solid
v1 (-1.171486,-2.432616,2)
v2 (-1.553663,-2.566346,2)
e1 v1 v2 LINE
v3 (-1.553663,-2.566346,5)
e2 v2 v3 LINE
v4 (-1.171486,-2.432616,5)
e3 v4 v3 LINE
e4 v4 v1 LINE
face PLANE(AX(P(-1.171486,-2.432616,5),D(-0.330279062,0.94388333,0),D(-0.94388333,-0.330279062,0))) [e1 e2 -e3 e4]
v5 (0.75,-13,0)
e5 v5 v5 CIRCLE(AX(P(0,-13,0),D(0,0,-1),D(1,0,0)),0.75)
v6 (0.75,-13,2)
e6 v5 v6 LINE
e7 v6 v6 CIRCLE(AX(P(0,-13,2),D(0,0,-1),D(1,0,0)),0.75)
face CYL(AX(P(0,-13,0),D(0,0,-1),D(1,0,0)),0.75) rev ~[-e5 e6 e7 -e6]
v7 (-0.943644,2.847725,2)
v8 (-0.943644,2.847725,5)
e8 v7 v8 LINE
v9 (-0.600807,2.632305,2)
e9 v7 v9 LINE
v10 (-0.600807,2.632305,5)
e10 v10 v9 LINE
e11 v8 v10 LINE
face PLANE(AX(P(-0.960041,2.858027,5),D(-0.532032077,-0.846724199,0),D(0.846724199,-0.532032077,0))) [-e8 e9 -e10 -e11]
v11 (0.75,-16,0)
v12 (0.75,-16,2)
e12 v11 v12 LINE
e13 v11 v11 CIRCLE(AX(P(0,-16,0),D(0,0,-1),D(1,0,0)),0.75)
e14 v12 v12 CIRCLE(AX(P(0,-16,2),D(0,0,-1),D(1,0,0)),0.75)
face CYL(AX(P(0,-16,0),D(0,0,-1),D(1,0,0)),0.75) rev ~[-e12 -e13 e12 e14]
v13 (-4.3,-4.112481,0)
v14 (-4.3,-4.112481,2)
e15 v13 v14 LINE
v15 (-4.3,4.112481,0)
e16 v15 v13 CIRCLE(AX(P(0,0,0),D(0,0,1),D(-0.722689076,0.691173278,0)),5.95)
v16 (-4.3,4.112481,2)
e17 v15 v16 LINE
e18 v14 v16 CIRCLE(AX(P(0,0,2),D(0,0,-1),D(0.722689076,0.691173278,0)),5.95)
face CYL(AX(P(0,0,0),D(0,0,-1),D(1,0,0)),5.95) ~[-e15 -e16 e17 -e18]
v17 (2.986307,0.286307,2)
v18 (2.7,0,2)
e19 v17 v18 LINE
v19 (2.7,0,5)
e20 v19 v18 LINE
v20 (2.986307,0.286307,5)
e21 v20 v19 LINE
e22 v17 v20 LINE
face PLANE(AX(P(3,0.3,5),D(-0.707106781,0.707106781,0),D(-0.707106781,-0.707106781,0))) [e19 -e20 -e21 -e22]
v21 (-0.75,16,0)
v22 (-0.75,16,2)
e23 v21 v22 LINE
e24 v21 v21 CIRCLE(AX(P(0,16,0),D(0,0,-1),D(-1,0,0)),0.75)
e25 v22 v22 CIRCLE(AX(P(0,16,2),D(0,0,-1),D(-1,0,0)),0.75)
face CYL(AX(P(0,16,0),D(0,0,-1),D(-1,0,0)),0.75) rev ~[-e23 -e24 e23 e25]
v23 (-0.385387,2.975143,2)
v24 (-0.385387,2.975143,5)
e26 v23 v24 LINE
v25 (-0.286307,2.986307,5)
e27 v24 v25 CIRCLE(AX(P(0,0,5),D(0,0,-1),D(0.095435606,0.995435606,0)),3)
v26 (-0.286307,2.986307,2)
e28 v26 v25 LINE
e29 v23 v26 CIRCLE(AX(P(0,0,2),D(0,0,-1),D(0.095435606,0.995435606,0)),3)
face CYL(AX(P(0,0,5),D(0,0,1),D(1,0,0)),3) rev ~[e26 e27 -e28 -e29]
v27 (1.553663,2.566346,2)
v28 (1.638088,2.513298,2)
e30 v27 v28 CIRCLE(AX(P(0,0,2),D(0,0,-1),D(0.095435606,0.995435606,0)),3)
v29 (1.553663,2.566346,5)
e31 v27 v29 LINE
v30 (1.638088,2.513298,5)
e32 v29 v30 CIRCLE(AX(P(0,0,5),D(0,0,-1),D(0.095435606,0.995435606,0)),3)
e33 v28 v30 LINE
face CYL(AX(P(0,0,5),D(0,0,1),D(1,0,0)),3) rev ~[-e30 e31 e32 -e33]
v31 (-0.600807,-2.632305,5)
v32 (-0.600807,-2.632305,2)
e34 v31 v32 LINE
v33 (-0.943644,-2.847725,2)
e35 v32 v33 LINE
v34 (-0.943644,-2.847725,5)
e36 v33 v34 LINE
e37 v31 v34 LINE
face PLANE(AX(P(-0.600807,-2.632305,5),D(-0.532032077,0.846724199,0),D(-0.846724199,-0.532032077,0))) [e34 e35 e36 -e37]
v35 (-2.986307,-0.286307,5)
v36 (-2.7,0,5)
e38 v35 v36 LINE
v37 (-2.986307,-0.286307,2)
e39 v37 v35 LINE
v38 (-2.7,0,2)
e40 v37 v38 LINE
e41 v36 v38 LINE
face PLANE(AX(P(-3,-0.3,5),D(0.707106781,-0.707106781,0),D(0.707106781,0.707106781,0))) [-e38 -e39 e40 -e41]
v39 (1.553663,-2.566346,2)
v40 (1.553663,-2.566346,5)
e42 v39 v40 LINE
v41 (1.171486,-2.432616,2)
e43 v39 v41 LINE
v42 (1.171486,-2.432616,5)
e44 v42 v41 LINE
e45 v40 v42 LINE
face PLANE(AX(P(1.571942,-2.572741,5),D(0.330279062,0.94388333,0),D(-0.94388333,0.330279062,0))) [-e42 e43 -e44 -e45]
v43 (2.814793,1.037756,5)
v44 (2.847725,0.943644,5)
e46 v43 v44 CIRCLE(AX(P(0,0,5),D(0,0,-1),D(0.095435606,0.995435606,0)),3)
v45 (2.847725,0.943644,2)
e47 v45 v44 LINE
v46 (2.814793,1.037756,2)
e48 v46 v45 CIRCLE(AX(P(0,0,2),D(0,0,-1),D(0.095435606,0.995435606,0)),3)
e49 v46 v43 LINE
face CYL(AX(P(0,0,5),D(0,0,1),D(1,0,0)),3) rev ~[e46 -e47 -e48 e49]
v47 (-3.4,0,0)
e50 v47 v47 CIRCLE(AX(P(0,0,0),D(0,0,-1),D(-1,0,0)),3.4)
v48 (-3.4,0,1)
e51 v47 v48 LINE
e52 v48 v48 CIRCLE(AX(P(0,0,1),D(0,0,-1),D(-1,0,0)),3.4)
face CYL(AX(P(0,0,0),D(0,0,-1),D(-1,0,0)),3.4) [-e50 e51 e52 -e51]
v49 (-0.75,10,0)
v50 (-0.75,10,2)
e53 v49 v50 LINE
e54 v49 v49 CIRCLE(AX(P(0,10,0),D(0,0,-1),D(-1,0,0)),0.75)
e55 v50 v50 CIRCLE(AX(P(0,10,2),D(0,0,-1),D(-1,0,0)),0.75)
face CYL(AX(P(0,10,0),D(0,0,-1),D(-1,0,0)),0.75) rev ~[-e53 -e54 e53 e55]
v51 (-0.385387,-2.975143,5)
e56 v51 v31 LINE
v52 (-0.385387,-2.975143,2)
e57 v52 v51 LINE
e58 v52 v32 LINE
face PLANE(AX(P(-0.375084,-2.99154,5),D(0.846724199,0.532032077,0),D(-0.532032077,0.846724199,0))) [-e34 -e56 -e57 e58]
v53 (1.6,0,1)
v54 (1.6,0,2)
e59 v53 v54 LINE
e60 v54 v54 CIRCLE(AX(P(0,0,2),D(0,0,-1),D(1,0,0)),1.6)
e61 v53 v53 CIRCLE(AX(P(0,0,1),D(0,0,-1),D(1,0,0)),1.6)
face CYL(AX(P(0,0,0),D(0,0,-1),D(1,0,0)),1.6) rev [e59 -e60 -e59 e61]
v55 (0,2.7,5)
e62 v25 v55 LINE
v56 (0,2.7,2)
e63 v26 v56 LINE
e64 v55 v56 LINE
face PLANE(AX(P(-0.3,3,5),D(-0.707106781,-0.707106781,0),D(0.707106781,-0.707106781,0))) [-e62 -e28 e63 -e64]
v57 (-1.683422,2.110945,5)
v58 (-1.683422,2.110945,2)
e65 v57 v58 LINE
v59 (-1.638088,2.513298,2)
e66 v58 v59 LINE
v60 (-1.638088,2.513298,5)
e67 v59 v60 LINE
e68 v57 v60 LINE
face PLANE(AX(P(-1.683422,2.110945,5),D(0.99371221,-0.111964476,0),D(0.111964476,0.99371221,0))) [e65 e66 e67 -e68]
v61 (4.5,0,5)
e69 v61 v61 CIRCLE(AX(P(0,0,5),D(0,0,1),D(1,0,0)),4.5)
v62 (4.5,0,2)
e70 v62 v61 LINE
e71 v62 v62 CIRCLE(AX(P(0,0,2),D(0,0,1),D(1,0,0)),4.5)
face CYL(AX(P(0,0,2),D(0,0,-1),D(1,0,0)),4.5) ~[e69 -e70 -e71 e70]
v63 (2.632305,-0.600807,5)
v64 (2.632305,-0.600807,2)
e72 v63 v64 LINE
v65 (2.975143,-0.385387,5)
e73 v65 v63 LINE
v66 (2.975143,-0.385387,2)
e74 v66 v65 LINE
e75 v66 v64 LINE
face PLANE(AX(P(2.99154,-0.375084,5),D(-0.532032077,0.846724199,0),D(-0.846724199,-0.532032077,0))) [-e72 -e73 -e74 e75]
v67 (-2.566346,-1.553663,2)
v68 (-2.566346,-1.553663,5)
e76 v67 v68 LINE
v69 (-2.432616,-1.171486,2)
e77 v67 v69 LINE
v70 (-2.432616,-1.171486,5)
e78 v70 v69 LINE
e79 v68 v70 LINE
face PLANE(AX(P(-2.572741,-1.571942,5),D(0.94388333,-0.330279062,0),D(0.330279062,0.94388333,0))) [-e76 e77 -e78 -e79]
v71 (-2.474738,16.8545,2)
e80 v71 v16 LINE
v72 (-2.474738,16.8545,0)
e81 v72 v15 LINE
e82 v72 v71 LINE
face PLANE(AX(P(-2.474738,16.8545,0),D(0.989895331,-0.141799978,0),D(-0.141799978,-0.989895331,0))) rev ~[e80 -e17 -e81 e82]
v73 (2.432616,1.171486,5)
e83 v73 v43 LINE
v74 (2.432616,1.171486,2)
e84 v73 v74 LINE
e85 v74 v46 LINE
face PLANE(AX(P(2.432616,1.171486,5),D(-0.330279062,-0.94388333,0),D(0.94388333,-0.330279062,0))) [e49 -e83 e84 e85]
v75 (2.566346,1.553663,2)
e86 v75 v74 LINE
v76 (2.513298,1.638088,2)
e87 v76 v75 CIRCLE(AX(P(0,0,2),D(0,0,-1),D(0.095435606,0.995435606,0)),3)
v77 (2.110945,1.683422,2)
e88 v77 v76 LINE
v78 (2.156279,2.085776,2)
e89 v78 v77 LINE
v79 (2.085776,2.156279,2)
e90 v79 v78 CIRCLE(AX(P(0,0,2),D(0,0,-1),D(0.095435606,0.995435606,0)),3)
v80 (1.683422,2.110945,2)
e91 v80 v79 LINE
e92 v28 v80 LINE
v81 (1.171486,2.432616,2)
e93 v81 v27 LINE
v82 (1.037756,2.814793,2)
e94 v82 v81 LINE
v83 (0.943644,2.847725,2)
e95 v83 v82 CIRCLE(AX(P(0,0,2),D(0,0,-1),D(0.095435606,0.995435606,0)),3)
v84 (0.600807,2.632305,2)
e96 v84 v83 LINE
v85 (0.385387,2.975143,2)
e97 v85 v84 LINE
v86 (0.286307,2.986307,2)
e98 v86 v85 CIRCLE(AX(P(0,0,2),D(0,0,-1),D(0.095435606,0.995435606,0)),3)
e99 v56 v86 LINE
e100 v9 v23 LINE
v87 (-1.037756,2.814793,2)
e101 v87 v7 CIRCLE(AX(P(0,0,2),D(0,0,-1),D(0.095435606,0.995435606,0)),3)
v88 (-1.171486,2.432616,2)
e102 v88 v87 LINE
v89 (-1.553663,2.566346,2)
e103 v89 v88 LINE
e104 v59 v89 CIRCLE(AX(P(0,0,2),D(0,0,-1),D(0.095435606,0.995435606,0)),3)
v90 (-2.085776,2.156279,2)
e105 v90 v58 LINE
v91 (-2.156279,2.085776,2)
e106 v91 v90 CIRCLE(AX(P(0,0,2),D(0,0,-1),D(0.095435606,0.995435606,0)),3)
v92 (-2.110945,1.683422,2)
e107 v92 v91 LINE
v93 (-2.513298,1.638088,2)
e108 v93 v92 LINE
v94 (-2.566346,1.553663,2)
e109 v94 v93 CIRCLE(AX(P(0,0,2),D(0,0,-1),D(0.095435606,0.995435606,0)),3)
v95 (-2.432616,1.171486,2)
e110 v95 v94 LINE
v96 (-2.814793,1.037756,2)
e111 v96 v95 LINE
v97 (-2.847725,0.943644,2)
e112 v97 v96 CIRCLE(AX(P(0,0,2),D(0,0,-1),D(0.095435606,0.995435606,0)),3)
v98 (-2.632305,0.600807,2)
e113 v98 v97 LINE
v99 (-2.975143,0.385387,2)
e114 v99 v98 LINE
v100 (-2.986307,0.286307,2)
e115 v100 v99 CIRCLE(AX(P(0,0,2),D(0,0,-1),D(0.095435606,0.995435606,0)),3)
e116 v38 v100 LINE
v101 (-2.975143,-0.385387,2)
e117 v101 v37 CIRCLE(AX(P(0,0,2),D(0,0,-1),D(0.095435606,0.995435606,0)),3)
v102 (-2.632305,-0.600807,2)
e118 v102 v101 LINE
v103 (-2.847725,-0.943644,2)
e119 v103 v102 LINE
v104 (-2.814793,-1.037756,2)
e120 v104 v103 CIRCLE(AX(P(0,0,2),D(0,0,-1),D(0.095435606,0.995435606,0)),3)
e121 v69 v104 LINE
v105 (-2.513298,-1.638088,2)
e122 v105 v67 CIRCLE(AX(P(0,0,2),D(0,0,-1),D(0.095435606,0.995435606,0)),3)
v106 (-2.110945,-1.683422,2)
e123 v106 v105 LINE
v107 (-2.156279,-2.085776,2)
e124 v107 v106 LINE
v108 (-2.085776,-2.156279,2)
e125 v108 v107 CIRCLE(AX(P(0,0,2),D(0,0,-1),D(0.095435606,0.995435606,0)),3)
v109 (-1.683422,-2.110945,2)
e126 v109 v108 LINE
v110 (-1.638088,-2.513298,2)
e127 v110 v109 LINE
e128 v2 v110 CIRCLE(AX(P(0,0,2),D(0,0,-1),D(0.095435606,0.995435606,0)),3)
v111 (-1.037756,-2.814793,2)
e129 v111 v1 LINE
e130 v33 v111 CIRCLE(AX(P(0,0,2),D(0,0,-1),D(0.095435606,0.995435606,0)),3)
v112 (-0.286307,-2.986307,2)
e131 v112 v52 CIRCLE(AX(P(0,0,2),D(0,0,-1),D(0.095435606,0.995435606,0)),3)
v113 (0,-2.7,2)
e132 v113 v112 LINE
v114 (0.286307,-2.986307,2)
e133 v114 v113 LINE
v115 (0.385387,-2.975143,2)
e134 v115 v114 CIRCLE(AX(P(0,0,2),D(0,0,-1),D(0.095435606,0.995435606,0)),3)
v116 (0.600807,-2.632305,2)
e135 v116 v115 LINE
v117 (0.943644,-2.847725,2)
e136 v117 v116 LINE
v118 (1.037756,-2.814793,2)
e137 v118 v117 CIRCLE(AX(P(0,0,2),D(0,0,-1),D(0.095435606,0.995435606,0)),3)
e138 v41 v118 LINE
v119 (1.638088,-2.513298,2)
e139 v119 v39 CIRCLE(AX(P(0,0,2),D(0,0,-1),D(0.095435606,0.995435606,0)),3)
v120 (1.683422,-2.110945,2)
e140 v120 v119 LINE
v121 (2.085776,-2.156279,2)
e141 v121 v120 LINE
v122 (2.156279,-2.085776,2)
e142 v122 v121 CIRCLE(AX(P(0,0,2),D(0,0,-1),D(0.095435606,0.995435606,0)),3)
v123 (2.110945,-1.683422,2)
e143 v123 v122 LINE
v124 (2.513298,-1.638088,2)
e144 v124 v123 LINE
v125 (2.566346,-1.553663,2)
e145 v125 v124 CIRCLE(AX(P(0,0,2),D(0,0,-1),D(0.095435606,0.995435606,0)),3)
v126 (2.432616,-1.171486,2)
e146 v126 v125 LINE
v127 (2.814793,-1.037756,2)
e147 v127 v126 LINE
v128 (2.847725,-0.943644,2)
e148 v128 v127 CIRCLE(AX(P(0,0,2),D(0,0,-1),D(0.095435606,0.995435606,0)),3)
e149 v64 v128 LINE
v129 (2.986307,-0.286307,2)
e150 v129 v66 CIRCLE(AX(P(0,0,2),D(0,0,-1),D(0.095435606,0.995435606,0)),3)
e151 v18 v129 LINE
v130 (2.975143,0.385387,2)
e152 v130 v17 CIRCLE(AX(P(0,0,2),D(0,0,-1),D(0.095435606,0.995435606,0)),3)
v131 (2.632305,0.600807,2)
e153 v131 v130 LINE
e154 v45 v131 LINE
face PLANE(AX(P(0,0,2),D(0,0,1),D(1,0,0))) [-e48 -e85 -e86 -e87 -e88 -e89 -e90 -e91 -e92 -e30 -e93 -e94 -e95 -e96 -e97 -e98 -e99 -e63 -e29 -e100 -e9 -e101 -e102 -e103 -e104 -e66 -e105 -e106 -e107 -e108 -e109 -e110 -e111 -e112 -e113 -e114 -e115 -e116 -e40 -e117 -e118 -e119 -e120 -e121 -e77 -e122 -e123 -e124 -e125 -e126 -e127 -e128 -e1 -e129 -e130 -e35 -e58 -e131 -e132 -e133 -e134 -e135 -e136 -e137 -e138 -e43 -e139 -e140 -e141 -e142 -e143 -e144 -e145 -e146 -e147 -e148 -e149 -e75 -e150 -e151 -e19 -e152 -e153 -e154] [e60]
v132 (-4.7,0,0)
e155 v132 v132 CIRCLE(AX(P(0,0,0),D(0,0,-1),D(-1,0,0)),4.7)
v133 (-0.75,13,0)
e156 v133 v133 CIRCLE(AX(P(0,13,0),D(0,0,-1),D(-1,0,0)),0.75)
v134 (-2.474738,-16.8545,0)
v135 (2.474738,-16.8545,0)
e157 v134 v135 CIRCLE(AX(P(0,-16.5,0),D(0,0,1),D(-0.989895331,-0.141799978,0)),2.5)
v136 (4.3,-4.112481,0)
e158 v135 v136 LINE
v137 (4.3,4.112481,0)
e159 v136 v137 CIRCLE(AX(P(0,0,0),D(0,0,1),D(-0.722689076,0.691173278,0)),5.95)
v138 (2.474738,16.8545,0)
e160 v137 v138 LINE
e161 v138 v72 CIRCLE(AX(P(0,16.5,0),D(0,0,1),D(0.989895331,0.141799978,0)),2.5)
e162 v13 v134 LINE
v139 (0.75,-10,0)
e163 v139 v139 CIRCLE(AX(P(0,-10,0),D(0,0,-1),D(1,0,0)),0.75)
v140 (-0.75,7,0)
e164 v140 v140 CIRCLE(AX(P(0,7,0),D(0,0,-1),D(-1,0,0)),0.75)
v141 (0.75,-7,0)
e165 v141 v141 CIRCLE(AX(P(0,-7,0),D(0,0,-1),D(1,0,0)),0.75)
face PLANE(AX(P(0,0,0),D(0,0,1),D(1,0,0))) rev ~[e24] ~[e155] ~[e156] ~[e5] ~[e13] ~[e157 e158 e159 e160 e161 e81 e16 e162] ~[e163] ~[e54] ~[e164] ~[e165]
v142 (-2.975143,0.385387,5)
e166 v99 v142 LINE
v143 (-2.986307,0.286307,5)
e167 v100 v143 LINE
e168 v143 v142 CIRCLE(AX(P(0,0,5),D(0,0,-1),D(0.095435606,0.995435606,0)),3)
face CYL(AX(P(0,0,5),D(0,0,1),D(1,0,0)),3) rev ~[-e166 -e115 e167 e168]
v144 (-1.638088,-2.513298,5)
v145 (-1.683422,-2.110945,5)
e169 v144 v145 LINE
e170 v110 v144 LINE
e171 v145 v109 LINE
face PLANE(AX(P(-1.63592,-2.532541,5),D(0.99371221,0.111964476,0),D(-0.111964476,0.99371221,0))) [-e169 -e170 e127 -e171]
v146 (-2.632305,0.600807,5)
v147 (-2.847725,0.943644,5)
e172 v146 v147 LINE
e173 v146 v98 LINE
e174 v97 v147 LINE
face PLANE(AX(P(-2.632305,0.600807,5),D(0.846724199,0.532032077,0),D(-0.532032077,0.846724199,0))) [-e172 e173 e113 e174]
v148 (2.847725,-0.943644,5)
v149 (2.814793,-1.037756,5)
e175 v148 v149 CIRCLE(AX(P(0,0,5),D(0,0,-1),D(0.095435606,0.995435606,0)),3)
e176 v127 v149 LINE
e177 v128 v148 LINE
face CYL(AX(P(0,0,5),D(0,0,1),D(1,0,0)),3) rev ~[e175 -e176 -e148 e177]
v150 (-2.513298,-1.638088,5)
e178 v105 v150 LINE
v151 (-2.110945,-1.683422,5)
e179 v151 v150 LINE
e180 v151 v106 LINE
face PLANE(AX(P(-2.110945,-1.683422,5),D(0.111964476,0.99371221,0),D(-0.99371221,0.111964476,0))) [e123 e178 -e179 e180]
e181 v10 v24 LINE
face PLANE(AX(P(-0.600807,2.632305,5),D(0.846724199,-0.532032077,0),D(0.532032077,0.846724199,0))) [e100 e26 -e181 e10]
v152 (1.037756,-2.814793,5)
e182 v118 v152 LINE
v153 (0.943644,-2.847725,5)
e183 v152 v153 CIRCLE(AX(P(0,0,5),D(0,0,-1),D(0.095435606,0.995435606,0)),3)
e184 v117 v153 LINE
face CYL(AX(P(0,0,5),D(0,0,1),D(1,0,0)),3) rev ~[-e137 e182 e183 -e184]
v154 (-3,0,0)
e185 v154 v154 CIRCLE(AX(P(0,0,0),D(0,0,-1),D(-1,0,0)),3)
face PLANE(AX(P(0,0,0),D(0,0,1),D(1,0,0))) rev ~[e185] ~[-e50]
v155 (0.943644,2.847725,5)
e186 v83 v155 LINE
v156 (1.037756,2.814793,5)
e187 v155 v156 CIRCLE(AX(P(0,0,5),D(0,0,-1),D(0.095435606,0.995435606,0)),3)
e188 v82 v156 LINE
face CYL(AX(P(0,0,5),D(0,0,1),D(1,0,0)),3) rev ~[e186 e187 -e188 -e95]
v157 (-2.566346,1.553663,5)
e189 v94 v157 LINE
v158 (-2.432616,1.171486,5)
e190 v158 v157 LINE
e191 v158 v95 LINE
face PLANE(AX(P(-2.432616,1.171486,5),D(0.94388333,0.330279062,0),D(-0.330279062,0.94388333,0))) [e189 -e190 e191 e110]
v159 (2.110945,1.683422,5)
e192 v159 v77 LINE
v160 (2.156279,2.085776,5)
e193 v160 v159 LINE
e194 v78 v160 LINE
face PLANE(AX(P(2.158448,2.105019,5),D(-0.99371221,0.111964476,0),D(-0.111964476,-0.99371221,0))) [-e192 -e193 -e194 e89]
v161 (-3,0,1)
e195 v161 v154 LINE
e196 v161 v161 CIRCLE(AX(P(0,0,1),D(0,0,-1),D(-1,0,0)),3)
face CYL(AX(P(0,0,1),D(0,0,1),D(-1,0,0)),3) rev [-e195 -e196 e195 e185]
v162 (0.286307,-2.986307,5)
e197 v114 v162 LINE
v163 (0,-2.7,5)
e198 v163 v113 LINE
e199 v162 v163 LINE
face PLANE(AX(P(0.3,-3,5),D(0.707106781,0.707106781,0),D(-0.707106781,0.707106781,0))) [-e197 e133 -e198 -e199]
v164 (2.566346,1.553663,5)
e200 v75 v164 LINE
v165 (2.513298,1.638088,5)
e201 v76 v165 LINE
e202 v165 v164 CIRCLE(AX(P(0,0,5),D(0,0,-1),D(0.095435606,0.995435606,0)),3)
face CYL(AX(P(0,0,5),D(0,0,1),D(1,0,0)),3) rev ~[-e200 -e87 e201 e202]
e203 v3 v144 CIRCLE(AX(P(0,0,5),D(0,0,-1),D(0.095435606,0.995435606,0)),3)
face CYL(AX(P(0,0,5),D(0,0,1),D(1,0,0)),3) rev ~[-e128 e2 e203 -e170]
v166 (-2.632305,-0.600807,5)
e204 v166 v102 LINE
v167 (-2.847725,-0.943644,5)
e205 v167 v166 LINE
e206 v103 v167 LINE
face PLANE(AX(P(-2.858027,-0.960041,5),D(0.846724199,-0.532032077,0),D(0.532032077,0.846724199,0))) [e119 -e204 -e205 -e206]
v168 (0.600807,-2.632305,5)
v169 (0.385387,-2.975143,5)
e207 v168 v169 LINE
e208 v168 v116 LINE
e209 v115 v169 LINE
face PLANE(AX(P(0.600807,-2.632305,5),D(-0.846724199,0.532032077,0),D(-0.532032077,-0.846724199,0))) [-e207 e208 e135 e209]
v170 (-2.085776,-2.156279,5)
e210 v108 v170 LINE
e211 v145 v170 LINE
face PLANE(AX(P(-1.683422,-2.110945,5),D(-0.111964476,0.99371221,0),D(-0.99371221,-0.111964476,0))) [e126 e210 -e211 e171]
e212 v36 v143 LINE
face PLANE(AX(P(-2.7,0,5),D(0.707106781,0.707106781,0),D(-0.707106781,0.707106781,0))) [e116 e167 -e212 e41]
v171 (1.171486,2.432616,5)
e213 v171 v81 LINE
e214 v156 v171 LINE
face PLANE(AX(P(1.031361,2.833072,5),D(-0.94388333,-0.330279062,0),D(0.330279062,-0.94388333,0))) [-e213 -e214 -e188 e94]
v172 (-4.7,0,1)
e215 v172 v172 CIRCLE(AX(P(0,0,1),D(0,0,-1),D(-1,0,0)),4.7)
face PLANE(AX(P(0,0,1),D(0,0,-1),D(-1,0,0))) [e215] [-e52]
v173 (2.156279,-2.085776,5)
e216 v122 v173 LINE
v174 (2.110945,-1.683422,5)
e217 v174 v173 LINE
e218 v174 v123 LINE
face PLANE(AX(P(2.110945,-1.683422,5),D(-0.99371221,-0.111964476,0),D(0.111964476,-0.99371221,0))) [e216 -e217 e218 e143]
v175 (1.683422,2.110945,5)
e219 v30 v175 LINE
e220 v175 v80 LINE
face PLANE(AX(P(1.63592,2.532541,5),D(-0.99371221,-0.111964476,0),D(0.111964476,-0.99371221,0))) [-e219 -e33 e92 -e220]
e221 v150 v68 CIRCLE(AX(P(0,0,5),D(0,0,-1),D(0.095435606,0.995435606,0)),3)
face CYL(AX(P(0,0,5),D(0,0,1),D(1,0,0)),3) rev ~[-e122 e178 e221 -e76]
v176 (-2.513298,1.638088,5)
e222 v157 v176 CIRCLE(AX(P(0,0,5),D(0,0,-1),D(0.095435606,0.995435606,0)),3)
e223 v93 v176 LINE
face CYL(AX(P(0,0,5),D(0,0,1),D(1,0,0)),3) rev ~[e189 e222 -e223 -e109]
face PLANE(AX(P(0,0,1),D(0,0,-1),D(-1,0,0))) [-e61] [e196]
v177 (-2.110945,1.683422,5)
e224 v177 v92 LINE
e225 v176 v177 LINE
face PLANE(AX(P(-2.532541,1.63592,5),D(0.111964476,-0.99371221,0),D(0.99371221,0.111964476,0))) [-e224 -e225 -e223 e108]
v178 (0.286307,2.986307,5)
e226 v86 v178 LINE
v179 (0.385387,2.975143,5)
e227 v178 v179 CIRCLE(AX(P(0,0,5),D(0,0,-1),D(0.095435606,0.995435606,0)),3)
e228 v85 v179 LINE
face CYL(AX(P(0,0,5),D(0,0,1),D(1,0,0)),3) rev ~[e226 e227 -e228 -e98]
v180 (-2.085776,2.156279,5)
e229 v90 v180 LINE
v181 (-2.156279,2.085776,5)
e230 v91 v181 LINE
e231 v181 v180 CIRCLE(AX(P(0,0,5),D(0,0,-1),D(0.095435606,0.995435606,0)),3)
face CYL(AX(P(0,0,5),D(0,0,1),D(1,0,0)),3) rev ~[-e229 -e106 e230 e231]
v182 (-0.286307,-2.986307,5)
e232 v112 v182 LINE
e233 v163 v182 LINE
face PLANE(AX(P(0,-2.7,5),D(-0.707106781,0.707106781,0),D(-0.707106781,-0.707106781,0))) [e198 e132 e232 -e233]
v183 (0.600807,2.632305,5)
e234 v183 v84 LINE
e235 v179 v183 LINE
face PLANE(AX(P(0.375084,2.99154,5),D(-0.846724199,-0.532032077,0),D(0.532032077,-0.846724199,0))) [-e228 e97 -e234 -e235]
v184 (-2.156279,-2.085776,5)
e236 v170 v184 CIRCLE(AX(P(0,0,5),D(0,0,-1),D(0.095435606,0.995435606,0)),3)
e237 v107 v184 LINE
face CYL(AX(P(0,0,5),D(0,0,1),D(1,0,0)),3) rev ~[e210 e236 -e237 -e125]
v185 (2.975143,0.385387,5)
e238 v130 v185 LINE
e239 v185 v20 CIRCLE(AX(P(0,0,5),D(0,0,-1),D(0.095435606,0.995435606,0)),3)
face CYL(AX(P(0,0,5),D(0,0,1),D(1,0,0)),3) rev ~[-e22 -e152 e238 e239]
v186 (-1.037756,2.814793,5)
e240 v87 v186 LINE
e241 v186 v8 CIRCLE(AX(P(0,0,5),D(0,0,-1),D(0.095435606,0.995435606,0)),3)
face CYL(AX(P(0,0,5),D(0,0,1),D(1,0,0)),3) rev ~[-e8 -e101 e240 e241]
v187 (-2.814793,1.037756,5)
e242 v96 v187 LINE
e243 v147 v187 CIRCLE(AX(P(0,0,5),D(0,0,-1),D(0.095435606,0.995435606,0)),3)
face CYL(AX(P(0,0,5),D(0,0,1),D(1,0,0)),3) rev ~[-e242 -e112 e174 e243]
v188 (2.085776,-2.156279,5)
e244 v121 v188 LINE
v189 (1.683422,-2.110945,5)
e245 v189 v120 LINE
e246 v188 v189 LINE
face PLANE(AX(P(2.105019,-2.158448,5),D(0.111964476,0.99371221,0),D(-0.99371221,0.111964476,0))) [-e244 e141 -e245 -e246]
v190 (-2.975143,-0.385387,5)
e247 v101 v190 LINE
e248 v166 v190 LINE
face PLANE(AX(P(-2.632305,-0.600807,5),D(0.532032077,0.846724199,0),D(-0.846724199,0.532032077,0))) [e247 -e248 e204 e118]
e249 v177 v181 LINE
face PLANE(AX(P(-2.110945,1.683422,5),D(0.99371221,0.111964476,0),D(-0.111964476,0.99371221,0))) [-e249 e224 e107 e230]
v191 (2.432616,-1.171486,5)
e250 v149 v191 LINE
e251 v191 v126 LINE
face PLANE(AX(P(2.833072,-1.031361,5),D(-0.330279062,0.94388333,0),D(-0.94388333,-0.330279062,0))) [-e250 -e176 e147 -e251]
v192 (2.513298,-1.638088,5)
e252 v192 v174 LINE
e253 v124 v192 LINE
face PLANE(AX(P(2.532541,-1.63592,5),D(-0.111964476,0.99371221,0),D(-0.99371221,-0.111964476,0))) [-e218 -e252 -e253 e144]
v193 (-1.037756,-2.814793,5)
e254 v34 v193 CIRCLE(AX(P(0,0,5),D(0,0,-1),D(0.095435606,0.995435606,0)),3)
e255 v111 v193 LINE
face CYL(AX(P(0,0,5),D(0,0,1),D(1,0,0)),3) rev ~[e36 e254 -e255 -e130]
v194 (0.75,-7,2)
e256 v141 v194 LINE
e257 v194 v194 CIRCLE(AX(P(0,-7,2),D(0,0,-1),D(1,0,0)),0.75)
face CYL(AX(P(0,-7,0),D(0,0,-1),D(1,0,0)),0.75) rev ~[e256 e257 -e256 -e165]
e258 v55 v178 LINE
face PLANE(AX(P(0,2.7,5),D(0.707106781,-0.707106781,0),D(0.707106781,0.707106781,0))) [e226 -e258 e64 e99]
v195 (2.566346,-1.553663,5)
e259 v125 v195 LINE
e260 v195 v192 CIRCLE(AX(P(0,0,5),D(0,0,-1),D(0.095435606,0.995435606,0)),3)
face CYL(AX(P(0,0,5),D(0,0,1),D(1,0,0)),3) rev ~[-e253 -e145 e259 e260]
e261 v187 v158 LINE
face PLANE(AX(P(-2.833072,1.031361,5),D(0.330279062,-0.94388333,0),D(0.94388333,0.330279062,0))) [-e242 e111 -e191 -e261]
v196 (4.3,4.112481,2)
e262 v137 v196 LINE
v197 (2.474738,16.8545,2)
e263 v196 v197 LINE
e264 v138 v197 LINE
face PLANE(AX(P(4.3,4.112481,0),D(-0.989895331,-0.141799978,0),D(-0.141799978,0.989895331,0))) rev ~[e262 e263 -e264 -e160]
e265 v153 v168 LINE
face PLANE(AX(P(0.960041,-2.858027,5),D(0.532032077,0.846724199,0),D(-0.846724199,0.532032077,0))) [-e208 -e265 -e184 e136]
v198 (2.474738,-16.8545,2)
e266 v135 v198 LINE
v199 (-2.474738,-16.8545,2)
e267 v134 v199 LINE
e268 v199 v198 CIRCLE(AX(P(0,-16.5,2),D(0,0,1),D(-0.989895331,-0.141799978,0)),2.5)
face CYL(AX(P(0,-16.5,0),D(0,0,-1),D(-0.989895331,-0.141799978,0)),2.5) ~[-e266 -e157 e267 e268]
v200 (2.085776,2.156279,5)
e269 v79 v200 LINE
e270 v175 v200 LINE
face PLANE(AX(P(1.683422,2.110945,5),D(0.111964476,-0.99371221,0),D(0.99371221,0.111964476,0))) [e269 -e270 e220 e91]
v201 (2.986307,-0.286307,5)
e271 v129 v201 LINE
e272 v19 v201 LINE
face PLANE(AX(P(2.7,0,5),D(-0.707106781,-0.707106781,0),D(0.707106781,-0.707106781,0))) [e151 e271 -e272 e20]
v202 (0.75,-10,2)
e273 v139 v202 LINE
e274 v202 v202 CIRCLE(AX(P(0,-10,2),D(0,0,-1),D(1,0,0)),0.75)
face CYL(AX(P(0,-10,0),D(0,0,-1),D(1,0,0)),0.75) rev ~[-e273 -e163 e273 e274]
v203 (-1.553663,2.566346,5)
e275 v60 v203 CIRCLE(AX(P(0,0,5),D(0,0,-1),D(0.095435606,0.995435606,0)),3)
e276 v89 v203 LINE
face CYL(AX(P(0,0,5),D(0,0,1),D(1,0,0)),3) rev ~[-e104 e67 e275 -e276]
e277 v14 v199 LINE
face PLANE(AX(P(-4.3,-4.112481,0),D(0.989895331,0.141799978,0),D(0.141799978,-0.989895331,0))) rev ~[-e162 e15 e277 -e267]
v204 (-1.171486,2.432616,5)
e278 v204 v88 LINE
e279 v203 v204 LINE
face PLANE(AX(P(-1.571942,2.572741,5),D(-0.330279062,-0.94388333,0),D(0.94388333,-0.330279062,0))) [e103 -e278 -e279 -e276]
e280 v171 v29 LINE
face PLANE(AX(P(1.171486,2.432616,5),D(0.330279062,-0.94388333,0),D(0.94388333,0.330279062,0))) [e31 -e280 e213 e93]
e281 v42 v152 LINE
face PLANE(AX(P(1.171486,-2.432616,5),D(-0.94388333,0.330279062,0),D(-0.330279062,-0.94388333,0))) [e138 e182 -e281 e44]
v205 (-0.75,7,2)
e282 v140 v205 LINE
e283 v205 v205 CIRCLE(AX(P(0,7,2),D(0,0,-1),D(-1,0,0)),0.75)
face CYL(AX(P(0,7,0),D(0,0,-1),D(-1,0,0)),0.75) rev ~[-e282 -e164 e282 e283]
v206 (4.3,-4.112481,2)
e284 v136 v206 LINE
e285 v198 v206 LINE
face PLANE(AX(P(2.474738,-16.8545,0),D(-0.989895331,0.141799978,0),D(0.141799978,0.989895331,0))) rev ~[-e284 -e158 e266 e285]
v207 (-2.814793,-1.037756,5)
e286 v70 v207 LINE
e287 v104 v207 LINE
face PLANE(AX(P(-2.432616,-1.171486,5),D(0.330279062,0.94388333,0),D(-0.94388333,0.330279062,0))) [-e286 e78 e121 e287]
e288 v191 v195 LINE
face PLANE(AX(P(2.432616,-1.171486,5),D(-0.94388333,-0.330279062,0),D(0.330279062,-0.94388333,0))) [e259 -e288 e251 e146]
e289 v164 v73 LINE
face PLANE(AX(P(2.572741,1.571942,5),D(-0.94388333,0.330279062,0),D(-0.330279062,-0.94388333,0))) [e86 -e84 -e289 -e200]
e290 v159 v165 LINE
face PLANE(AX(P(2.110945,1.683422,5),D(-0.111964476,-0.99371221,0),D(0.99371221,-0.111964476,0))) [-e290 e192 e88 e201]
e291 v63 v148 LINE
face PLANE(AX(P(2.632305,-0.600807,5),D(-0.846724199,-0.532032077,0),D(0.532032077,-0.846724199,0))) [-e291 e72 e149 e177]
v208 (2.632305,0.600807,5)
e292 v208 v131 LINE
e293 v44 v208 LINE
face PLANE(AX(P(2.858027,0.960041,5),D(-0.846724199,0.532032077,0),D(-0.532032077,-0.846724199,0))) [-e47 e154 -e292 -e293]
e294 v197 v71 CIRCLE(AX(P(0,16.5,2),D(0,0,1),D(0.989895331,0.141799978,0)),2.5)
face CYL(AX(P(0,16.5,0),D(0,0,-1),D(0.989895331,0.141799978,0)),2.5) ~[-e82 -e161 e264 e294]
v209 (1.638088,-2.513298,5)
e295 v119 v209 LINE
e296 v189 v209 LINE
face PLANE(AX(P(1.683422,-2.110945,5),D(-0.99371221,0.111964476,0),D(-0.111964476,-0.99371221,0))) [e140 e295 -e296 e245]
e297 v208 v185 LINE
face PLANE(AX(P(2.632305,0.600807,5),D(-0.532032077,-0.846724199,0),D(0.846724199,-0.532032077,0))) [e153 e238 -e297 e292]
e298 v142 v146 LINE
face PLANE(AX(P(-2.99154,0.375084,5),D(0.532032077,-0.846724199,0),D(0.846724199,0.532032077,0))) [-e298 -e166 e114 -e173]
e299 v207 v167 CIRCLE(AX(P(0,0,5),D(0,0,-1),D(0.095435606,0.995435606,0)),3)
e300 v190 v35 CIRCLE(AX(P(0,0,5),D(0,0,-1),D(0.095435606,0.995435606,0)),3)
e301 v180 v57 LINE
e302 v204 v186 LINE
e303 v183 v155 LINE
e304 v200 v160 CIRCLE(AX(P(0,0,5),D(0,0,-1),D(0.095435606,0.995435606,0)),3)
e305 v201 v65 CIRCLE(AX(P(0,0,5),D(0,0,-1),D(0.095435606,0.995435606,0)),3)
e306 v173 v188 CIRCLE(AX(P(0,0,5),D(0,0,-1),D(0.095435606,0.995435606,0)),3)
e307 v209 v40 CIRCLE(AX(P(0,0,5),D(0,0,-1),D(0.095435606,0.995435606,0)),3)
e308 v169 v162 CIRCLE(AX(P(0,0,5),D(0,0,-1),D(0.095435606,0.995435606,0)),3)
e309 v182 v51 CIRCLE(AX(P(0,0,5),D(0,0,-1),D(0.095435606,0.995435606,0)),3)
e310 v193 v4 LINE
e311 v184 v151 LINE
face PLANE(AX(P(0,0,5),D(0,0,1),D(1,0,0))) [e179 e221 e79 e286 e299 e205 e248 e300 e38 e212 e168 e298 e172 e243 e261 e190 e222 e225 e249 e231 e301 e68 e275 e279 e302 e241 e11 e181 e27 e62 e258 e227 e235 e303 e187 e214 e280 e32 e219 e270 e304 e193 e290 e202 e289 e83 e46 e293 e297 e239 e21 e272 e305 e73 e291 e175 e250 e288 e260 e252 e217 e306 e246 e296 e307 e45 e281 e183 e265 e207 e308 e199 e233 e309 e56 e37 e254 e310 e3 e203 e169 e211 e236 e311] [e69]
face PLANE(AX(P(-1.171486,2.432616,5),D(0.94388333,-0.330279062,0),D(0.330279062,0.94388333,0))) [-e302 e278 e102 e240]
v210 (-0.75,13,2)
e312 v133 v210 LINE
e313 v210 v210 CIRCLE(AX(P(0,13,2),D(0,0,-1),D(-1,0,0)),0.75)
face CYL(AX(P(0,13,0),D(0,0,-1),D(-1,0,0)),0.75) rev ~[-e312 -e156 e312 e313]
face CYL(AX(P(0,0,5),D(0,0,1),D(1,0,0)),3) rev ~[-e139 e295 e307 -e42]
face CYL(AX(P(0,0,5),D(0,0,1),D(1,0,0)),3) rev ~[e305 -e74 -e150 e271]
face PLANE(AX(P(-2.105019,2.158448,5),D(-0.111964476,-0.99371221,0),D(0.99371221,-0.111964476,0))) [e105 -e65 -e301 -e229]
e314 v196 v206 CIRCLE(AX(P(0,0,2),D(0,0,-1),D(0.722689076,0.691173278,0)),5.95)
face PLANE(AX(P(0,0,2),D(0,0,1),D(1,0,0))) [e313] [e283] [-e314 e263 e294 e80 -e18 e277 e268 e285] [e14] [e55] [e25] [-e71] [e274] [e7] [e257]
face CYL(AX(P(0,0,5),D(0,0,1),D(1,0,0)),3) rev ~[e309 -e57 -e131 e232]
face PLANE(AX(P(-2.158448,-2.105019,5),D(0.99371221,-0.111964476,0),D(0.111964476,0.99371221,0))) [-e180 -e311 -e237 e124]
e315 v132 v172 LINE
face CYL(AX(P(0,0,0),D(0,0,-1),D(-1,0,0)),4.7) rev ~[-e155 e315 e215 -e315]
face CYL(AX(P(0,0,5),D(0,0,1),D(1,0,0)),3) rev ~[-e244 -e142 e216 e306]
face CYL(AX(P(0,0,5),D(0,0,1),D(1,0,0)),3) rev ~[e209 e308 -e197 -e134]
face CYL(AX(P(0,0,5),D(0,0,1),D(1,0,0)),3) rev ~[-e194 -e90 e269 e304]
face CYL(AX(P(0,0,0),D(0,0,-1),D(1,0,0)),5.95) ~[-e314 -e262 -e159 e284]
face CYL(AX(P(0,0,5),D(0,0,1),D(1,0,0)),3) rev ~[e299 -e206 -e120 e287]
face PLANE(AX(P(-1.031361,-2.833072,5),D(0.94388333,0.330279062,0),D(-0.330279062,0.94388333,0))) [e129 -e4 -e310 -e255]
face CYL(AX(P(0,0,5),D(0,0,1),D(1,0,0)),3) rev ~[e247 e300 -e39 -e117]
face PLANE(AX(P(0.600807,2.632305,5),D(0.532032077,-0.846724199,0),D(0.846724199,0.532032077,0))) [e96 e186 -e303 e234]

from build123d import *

# Parameters (mm, degrees)
ESQUISSE1_R                  = 5.95
ESQUISSE1_R_2                = 1.6
BOSS_EXTRU_1_DEPTH           = 5
ESQUISSE2_R                  = 3
ENL_V_MAT_EXTRU_1_DEPTH      = 3
ENL_V_START                  = -3
ESQUISSE3_R                  = 5.95
ESQUISSE3_R_2                = 4.5
ENL_V_MAT_EXTRU_2_DEPTH      = 3
BOSS_EXTRU_2_DEPTH           = 2
R_P_TITION_CIRCULAIRE1_COUNT = 2
ESQUISSE5_R                  = 0.75
ENL_V_MAT_EXTRU_3_DEPTH      = 3
R_P_TITION_CIRCULAIRE2_COUNT = 2
BOSS_EXTRU_3_DEPTH           = 3
R_P_TITION_CIRCULAIRE3_COUNT = 28
ENL_V_START_2                = -1
ESQUISSE7_R                  = 3
ESQUISSE7_R_2                = 1.6
ENL_V_MAT_EXTRU_4_DEPTH      = 1
ESQUISSE8_R                  = 4.7
ESQUISSE8_R_2                = 3.4
ENL_V_MAT_EXTRU_5_DEPTH      = 1


with BuildPart() as part:
    # Esquisse1 → Boss.-Extru.1 (new body)
    with BuildSketch(Plane.XY):
        Circle(ESQUISSE1_R)
        Circle(ESQUISSE1_R_2, mode=Mode.SUBTRACT)
    extrude(amount=BOSS_EXTRU_1_DEPTH)

    # Esquisse2 → Enlèv. mat.-Extru.1 (cut)
    with BuildSketch(Plane.XY.offset(5)):
        Circle(ESQUISSE2_R)
    extrude(amount=-ENL_V_MAT_EXTRU_1_DEPTH, mode=Mode.SUBTRACT)

    # Esquisse3 → Enlèv. mat.-Extru.2 (cut)
    with BuildSketch(Plane.XY.offset(5).offset(ENL_V_START)):
        Circle(ESQUISSE3_R)
        Circle(ESQUISSE3_R_2, mode=Mode.SUBTRACT)
    extrude(amount=ENL_V_MAT_EXTRU_2_DEPTH, mode=Mode.SUBTRACT)

    # Esquisse4 → Boss.-Extru.2 (add)
    with BuildSketch(Plane(origin=(0, 0, 0), x_dir=(-1, 0, 0), z_dir=(0, 0, -1))):
        with BuildLine():
            Line((-4.3, 4.112481003), (-2.474738327, 16.854499945))
            ThreePointArc((-2.474738327, 16.854499945), (0, 19), (2.474738327, 16.854499945))
            Line((2.474738327, 16.854499945), (4.3, 4.112481003))
            ThreePointArc((4.3, 4.112481003), (0, 5.95), (-4.3, 4.112481003))
        make_face()
    boss_extru_2 = extrude(amount=-BOSS_EXTRU_2_DEPTH)

    # Répétition circulaire1: Boss.-Extru.2 ×2 about axis
    r_p_tition_circulaire1_axis = Axis((0, 0, 0), (0, 0, 1))
    for i in range(1, R_P_TITION_CIRCULAIRE1_COUNT):
        add(boss_extru_2.rotate(r_p_tition_circulaire1_axis, i * 360 / R_P_TITION_CIRCULAIRE1_COUNT))

    # Esquisse5 → Enlèv. mat.-Extru.3 (cut)
    with BuildSketch(Plane(origin=(0, 0, 0), x_dir=(-1, 0, 0), z_dir=(0, 0, -1))):
        with Locations((0, 7)):
            Circle(ESQUISSE5_R)
        with Locations((0, 10)):
            Circle(ESQUISSE5_R)
        with Locations((0, 13)):
            Circle(ESQUISSE5_R)
        with Locations((0, 16)):
            Circle(ESQUISSE5_R)
    enl_v_mat_extru_3 = extrude(amount=-ENL_V_MAT_EXTRU_3_DEPTH, mode=Mode.SUBTRACT)

    # Répétition circulaire2: Enlèv. mat.-Extru.3 ×2 about axis
    r_p_tition_circulaire2_axis = Axis((0, 0, 0), (0, 0, 1))
    for i in range(1, R_P_TITION_CIRCULAIRE2_COUNT):
        add(enl_v_mat_extru_3.rotate(r_p_tition_circulaire2_axis, i * 360 / R_P_TITION_CIRCULAIRE2_COUNT), mode=Mode.SUBTRACT)

    # Esquisse6 → Boss.-Extru.3 (add)
    with BuildSketch(Plane.XY.offset(5)):
        Polygon((-0.3, 3), (0, 2.7), (0.3, 3), align=None)
    boss_extru_3 = extrude(amount=-BOSS_EXTRU_3_DEPTH)

    # Répétition circulaire3: Boss.-Extru.3 ×28 about axis
    r_p_tition_circulaire3_axis = Axis((0, 0, 0), (0, 0, 1))
    for i in range(1, R_P_TITION_CIRCULAIRE3_COUNT):
        add(boss_extru_3.rotate(r_p_tition_circulaire3_axis, i * 360 / R_P_TITION_CIRCULAIRE3_COUNT))

    # Esquisse7 → Enlèv. mat.-Extru.4 (cut)
    with BuildSketch(Plane(origin=(0, 0, 0), x_dir=(-1, 0, 0), z_dir=(0, 0, -1)).offset(ENL_V_START_2)):
        Circle(ESQUISSE7_R)
        Circle(ESQUISSE7_R_2, mode=Mode.SUBTRACT)
    extrude(amount=ENL_V_MAT_EXTRU_4_DEPTH, mode=Mode.SUBTRACT)

    # Esquisse8 → Enlèv. mat.-Extru.5 (cut)
    with BuildSketch(Plane(origin=(0, 0, 0), x_dir=(-1, 0, 0), z_dir=(0, 0, -1))):
        Circle(ESQUISSE8_R)
        Circle(ESQUISSE8_R_2, mode=Mode.SUBTRACT)
    extrude(amount=-ENL_V_MAT_EXTRU_5_DEPTH, mode=Mode.SUBTRACT)


solid = part.part
